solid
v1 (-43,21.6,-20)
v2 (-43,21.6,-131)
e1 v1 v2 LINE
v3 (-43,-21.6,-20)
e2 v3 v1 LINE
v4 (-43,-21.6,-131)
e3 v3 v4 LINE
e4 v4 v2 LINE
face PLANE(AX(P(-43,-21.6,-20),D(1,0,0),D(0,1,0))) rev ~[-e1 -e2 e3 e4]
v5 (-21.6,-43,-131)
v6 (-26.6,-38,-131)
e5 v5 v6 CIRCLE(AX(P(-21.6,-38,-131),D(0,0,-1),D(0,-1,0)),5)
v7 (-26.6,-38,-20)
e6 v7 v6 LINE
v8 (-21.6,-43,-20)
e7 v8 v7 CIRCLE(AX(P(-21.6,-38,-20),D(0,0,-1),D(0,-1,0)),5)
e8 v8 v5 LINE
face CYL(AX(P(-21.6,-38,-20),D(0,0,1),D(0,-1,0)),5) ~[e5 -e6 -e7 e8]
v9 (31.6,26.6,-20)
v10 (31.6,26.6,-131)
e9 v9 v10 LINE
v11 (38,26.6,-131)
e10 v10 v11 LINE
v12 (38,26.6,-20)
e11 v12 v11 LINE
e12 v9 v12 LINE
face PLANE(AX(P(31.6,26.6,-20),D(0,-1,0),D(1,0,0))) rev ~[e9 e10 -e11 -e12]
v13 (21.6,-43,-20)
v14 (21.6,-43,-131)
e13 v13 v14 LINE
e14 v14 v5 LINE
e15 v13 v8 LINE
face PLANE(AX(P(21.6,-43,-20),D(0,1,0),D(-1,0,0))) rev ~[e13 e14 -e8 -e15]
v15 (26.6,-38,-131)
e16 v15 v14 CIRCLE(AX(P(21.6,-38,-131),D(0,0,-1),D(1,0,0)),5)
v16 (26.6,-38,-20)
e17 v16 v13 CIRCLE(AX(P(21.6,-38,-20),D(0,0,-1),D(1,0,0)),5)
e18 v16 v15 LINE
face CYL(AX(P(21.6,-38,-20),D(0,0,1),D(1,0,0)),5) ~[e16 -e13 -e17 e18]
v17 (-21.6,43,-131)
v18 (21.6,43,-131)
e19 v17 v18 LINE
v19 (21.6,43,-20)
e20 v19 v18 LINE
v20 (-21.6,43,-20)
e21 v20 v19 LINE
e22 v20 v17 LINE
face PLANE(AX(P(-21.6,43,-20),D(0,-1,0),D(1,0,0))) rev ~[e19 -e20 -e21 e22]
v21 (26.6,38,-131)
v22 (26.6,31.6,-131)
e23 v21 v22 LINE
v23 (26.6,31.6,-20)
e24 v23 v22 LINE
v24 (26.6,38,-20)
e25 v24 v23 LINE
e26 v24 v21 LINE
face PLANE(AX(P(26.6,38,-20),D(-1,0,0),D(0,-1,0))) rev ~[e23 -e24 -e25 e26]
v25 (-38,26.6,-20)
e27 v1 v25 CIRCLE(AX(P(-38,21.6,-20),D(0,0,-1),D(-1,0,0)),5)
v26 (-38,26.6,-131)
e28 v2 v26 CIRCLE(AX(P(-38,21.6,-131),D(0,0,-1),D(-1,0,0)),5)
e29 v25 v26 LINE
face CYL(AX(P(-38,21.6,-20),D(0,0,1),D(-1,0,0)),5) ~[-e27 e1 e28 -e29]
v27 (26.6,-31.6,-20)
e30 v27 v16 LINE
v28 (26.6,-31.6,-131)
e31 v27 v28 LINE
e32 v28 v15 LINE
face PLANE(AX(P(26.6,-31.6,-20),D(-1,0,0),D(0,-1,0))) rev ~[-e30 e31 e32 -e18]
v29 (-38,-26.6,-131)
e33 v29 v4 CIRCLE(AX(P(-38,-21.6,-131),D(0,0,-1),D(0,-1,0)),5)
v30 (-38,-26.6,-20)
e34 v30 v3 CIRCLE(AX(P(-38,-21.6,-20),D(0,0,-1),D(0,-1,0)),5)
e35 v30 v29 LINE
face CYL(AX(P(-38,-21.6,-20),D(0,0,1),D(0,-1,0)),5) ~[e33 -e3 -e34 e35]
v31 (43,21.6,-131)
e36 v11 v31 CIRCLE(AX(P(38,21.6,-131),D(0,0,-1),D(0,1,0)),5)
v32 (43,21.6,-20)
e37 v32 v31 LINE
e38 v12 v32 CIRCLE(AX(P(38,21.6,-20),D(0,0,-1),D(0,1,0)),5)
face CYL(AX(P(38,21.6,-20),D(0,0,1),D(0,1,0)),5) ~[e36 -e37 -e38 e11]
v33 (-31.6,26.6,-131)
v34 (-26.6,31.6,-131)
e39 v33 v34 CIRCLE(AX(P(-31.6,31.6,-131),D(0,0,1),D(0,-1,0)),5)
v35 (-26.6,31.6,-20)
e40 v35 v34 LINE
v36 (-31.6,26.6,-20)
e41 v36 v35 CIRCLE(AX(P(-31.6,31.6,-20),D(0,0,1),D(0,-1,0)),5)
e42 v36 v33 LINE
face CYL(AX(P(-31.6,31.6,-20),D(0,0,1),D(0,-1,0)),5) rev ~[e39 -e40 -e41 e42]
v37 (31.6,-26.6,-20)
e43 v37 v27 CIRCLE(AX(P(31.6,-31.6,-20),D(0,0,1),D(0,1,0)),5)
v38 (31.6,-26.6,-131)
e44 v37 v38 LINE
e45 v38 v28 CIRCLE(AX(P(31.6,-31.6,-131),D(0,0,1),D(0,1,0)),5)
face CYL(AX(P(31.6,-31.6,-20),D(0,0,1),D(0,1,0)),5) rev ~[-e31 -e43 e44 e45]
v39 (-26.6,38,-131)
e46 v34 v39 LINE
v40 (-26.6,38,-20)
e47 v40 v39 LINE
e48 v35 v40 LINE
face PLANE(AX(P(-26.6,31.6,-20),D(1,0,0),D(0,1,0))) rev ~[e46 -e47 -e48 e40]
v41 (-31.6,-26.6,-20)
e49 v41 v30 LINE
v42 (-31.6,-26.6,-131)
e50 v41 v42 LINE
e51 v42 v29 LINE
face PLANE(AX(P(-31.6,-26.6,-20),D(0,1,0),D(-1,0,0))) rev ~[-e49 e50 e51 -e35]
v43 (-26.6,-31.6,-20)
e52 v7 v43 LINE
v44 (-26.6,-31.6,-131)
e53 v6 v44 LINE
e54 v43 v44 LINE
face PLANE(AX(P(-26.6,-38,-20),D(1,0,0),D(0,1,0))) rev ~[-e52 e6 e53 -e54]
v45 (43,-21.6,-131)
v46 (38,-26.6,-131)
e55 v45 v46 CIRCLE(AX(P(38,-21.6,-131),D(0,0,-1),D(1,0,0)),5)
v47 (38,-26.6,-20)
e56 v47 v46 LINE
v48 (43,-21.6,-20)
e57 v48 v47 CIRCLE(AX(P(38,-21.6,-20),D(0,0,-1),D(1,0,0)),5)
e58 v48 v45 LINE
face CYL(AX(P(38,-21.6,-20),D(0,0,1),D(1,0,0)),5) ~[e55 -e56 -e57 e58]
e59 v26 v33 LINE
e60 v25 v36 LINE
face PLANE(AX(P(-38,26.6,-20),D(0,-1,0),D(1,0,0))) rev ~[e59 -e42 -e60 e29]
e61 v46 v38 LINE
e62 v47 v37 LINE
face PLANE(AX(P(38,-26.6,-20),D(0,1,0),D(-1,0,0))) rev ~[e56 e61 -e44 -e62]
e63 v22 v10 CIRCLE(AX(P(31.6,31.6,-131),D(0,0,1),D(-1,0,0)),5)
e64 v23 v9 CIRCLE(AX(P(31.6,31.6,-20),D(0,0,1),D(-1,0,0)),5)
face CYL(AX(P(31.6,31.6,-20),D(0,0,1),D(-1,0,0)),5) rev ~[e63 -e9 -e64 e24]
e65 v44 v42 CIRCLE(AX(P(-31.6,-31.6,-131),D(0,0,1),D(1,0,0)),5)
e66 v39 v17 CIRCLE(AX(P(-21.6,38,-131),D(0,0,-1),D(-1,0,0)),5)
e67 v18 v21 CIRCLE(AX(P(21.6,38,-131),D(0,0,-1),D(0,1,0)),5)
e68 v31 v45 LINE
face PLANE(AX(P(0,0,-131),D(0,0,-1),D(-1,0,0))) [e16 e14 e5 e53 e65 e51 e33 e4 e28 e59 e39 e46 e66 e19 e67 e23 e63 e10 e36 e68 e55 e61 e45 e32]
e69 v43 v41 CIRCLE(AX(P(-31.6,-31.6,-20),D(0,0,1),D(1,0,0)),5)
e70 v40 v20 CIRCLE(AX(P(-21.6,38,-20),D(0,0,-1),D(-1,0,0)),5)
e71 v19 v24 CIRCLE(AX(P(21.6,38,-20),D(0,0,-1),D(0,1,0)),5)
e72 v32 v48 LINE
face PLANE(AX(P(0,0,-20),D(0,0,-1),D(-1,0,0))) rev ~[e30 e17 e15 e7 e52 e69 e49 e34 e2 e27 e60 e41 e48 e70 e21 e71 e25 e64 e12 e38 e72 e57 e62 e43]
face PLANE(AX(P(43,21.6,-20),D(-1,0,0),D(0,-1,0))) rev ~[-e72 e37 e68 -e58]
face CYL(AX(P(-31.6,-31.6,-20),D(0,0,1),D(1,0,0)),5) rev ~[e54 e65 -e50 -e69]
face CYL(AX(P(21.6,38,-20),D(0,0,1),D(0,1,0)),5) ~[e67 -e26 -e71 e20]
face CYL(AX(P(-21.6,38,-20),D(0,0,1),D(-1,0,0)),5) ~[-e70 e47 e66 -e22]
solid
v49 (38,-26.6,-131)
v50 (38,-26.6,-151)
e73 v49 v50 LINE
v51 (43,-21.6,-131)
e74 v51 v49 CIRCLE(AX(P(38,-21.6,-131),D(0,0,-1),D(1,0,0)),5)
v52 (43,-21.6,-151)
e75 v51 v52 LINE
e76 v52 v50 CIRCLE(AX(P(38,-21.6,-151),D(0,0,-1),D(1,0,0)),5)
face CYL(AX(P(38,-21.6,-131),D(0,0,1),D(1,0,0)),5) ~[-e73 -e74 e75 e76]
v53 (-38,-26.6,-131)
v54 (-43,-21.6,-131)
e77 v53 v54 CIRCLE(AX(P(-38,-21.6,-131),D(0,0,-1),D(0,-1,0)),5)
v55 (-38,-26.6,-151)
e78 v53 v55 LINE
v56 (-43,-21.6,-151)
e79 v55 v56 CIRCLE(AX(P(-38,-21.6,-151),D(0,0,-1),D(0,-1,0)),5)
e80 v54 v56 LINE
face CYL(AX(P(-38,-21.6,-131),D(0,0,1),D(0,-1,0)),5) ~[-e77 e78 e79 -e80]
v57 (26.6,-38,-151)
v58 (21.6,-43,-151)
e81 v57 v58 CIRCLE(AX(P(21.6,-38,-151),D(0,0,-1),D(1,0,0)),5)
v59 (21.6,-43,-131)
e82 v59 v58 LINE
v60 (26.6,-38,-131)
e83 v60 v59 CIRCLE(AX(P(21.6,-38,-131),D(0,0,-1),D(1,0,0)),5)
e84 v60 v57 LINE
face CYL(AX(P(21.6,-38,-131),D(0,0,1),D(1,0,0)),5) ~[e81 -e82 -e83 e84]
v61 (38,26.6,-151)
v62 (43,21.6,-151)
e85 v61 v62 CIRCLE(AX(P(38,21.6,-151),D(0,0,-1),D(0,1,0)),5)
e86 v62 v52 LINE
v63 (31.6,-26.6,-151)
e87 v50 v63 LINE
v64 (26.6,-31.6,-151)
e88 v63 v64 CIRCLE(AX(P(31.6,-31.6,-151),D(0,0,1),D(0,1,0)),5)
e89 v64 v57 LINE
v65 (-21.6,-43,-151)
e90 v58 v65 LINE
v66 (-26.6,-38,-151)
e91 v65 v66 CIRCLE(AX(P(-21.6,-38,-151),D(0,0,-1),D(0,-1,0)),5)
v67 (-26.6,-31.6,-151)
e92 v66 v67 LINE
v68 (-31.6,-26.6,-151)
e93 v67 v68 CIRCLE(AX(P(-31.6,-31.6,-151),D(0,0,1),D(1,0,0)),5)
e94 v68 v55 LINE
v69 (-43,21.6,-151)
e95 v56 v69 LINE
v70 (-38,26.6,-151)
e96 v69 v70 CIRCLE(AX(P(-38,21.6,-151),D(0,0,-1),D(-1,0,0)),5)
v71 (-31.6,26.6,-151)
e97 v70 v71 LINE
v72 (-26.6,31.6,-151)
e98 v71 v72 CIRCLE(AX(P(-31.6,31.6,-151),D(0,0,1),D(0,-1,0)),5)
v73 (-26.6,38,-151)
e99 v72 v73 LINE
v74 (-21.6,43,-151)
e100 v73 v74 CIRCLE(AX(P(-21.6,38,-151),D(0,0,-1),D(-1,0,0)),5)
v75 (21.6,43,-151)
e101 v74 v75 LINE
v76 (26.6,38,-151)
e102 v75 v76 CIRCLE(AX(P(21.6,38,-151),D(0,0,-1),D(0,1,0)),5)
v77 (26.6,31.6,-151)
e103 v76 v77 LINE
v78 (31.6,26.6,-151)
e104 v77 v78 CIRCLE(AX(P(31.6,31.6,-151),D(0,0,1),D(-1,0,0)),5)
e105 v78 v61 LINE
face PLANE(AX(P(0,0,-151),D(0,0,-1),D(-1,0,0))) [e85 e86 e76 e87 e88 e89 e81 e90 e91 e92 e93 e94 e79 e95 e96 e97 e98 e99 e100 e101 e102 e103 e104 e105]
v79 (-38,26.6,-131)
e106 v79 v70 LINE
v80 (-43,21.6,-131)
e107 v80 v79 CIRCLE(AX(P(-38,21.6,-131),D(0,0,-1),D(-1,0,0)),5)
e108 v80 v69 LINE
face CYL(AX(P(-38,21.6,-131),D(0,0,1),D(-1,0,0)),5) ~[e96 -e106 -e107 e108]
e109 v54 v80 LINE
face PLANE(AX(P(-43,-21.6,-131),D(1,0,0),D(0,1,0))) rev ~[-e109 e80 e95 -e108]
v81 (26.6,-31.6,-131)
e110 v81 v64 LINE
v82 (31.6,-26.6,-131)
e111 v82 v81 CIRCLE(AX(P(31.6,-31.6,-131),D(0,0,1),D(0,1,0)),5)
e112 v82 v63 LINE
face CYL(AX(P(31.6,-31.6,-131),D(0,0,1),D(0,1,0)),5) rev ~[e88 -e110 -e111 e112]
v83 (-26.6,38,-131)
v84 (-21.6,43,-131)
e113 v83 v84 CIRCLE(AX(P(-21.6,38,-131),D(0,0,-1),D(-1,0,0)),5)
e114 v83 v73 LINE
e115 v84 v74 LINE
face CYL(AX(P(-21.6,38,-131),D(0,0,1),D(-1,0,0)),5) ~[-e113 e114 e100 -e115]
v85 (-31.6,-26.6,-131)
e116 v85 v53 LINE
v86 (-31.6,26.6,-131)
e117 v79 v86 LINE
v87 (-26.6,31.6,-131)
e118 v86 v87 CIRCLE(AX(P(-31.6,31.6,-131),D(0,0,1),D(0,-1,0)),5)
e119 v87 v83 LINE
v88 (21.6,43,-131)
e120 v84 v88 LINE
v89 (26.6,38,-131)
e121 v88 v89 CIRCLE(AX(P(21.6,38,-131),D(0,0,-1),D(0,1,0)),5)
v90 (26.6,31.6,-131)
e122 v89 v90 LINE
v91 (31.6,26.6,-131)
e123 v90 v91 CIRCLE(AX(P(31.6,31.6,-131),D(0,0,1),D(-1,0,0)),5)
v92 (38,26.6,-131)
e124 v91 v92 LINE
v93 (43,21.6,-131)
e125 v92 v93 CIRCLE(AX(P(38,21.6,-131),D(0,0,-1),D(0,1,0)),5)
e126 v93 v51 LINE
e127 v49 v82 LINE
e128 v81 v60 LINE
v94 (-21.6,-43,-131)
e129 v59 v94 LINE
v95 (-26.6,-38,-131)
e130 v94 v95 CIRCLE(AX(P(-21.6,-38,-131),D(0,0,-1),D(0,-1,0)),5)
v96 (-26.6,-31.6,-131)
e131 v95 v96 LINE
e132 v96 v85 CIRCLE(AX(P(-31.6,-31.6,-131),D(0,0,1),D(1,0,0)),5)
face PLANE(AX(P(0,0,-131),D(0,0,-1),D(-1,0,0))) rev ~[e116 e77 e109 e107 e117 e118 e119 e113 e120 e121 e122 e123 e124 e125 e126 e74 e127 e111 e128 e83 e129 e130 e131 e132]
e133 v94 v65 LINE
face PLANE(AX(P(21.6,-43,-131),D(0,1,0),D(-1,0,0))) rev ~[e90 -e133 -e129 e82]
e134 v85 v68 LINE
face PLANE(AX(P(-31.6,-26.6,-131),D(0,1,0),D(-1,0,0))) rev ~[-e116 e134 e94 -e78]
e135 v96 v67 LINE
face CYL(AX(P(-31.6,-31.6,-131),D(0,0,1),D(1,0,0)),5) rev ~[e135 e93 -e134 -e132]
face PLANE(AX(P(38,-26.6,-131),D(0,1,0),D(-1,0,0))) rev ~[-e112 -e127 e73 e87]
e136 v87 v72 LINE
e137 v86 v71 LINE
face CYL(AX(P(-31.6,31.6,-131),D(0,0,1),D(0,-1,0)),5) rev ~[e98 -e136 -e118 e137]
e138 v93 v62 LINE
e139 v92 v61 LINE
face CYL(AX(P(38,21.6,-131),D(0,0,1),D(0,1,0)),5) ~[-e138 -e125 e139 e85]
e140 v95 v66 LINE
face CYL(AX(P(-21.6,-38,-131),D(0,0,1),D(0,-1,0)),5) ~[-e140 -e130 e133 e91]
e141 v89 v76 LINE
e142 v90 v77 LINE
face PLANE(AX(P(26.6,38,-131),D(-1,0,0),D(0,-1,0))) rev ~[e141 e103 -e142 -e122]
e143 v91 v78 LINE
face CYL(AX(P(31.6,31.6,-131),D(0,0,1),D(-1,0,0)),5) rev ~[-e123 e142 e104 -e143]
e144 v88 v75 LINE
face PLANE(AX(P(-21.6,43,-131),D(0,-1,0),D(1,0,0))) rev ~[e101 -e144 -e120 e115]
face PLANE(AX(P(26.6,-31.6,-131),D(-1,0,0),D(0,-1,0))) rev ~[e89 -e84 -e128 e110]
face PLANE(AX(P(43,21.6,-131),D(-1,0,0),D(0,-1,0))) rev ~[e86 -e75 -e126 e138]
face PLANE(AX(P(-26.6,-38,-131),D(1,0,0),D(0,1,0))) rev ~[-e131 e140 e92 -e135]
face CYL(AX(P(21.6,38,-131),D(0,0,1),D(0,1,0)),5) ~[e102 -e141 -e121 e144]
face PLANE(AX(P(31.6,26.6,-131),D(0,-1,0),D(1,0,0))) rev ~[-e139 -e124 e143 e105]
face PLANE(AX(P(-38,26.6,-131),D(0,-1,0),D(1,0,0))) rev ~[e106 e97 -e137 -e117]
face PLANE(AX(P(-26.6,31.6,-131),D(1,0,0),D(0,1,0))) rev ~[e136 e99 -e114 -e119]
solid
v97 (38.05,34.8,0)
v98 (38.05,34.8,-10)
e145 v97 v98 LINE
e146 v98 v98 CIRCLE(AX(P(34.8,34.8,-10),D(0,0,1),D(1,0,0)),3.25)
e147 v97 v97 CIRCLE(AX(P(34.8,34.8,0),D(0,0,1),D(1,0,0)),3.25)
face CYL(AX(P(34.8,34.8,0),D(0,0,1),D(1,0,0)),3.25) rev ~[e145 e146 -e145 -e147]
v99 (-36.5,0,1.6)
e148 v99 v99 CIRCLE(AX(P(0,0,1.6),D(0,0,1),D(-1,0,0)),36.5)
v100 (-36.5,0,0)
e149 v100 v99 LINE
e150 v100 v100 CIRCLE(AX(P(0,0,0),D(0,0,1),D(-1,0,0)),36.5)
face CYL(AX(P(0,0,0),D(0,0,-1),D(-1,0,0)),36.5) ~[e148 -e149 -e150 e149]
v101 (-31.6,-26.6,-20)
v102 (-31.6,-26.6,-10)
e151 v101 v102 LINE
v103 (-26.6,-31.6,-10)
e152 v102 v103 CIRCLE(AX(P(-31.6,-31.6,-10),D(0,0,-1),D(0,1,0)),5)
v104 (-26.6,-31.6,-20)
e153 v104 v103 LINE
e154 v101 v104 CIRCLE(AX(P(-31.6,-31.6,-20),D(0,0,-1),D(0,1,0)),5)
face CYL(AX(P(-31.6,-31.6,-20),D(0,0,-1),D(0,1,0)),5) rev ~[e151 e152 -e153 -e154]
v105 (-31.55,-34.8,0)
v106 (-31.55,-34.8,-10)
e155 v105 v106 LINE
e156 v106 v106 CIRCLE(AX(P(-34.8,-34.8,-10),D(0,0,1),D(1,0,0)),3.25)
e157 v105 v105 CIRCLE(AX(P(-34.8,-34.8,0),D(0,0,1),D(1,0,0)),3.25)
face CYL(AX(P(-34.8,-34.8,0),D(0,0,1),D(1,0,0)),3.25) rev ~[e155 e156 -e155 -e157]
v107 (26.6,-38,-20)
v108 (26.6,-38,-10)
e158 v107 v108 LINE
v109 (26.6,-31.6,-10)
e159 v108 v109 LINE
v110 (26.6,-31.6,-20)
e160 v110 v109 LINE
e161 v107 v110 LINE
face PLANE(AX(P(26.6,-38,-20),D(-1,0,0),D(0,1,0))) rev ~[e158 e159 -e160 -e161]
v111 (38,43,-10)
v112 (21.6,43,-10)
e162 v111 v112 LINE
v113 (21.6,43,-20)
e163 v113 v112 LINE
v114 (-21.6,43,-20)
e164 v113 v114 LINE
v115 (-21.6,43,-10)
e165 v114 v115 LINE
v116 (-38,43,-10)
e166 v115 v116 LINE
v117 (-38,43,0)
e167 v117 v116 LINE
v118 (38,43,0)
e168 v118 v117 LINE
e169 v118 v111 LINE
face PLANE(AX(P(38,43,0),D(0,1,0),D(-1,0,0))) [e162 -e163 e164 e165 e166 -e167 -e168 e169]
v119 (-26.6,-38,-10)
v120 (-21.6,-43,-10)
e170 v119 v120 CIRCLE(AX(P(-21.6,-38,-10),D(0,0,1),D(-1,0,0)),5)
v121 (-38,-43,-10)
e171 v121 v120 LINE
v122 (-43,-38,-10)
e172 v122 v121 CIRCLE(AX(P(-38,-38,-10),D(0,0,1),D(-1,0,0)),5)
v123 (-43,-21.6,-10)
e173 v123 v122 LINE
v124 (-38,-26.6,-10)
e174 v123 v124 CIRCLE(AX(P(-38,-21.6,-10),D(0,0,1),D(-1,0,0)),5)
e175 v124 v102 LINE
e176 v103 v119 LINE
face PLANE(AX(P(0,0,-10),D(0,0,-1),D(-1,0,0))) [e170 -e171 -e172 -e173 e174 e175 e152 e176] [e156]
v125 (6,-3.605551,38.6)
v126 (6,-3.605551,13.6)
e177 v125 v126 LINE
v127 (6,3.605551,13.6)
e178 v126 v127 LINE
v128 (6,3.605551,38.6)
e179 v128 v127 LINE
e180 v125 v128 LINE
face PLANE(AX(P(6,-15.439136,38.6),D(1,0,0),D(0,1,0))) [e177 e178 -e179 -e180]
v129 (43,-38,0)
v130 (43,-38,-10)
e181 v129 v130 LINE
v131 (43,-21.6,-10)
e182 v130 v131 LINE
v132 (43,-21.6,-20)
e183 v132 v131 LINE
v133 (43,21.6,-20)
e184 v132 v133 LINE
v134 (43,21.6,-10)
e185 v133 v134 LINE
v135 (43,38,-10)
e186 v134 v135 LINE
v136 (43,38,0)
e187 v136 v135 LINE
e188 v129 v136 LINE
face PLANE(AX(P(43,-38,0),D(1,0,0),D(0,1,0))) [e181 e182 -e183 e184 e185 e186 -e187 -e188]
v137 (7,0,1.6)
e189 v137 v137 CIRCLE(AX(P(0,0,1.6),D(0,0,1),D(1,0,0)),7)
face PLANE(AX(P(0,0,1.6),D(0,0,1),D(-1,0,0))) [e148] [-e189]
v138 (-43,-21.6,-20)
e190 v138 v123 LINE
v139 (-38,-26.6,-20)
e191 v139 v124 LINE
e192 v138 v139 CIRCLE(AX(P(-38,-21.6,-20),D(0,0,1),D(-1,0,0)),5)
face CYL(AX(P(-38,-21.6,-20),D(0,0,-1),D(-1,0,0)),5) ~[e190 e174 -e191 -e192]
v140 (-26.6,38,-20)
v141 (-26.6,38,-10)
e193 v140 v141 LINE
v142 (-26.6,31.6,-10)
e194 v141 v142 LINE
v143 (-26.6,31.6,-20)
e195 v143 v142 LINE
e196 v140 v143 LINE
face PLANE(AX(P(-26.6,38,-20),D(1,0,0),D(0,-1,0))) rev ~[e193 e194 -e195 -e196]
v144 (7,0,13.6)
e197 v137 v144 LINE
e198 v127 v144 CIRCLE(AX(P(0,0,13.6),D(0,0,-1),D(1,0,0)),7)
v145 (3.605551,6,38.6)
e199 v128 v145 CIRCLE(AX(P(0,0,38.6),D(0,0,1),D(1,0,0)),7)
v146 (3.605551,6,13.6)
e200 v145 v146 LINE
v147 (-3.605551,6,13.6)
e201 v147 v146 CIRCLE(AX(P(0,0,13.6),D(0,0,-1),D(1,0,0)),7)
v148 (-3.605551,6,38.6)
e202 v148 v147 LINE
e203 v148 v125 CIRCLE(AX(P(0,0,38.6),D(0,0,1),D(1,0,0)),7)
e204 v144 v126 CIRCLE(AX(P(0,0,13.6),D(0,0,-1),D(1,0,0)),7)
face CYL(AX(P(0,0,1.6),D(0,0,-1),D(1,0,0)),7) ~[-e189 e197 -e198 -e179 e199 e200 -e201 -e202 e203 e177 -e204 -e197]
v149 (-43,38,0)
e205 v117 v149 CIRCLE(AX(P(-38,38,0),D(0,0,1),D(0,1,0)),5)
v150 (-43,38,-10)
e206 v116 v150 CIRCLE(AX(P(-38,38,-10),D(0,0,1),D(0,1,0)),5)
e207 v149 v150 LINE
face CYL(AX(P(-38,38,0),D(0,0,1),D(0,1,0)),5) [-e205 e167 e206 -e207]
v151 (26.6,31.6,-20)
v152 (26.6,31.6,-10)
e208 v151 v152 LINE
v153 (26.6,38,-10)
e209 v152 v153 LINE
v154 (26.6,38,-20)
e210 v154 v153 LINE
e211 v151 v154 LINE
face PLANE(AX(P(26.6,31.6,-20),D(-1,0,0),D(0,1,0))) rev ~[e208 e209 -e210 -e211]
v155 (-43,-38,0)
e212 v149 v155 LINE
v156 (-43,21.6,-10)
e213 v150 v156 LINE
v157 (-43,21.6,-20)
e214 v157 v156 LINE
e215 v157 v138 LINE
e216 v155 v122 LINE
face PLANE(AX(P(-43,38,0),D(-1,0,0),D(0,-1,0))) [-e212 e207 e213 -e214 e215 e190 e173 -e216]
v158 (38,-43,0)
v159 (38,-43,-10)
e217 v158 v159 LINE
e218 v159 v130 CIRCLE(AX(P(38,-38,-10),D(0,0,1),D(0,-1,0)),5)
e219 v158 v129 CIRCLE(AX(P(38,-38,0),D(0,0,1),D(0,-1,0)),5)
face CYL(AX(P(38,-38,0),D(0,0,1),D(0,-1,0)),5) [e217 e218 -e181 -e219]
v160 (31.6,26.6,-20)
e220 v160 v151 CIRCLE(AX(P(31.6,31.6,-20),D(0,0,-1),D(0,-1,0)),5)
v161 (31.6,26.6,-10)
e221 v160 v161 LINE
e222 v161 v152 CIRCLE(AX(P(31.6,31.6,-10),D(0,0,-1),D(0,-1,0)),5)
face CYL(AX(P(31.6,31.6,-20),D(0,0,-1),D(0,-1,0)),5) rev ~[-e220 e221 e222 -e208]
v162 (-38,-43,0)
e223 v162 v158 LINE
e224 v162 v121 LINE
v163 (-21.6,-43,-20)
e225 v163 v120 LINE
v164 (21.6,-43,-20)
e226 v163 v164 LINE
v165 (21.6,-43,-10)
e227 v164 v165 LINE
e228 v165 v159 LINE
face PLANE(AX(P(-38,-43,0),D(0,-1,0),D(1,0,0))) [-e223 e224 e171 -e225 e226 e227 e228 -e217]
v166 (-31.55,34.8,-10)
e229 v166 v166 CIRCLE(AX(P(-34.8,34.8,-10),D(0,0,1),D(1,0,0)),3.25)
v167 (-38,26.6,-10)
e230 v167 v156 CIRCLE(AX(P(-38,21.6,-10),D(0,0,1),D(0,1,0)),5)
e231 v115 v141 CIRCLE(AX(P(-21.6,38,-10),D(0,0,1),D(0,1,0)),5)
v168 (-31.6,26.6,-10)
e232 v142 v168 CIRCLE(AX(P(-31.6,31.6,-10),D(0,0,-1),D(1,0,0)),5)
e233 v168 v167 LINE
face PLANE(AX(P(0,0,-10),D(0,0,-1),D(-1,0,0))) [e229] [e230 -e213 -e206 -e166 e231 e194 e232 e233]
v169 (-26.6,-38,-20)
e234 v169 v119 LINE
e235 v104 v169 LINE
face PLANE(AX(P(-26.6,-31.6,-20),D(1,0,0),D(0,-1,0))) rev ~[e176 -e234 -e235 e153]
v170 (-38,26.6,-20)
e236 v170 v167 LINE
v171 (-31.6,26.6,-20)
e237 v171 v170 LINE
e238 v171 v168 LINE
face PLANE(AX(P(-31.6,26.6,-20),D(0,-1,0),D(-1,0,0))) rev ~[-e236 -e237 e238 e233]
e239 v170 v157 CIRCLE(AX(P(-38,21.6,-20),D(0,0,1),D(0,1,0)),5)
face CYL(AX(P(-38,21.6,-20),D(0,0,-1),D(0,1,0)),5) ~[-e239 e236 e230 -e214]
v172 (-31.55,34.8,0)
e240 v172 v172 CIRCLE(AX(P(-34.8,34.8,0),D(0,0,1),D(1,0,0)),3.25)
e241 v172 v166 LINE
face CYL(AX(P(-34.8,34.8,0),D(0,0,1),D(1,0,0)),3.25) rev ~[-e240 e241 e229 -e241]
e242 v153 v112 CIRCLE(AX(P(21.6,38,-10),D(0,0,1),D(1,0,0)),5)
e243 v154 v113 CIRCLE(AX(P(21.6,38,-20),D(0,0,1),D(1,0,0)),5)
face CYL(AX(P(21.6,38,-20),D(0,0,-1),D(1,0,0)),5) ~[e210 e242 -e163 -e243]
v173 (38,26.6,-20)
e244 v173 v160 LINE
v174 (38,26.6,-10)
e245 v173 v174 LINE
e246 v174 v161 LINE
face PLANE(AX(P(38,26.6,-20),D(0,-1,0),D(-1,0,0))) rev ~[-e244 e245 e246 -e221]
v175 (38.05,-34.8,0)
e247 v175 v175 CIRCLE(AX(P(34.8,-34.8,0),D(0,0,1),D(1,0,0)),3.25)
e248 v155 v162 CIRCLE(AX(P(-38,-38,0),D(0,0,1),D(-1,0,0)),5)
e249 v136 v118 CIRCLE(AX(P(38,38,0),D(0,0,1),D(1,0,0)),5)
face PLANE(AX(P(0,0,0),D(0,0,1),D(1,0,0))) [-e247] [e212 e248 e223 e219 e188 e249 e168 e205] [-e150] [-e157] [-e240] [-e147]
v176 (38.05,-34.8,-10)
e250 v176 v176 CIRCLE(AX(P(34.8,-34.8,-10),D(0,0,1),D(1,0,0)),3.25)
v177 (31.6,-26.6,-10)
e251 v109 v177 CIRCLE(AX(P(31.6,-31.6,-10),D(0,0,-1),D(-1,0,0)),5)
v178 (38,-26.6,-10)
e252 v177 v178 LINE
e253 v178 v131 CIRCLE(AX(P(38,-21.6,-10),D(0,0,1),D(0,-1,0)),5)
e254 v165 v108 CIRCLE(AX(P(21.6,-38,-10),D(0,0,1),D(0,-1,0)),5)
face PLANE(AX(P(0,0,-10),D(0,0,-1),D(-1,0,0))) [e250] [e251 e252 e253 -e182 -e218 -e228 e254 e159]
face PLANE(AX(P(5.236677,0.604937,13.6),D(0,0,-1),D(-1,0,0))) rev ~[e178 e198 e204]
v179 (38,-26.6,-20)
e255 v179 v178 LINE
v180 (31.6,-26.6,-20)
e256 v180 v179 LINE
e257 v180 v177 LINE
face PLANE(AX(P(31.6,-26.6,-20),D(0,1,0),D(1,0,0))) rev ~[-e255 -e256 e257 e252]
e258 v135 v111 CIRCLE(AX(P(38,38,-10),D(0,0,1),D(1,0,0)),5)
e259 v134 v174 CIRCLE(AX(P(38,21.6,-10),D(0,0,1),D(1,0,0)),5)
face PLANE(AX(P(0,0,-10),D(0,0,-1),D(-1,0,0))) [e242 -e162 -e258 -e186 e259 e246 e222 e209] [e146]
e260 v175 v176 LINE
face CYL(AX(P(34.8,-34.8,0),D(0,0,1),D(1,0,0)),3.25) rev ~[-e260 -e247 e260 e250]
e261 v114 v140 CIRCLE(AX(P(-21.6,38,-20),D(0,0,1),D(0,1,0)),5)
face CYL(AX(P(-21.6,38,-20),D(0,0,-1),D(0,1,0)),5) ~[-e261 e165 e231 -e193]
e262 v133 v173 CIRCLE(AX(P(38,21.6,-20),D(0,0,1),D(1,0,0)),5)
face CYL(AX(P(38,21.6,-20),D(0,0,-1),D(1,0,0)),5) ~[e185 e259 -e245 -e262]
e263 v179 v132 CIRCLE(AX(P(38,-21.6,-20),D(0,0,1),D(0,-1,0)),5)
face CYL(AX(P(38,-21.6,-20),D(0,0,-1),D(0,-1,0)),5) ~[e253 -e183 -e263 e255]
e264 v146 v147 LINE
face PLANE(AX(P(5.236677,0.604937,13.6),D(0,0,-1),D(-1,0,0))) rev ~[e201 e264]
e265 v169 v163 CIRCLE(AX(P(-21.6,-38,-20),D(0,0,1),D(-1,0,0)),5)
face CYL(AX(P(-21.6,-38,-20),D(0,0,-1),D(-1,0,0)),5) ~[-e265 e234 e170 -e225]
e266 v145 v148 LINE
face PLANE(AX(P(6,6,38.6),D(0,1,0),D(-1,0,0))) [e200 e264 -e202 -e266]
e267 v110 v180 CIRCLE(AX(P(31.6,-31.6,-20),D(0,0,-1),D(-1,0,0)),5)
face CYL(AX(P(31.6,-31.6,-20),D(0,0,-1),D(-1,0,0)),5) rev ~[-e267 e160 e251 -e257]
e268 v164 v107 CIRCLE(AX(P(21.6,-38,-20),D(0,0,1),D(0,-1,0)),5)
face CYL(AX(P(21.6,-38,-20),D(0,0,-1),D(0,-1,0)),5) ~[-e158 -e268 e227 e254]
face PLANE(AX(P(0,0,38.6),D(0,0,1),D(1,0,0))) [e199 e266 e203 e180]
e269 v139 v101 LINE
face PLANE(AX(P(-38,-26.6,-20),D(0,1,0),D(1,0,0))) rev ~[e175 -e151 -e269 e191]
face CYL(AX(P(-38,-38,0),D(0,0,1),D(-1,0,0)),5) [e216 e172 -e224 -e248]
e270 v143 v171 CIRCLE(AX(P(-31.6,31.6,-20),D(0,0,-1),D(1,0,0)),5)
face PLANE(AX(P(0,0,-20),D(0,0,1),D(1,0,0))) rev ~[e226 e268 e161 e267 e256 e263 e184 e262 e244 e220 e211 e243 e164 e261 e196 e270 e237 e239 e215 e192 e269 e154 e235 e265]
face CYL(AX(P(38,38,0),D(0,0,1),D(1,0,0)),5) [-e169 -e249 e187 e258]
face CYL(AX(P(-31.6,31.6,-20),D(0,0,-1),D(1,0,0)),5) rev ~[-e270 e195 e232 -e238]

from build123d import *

# Parameters (mm, degrees)
SKETCH2_R           = 3.25
BOSS_EXTRUDE1_DEPTH = 20
SKETCH3_R           = 36.5
BOSS_EXTRUDE2_DEPTH = 1.6
SKETCH4_R           = 7
BOSS_EXTRUDE3_DEPTH = 37
CUT_EXTRUDE3_DEPTH  = 25
SKETCH6_OUTSIDE_W   = 115
SKETCH6_OUTSIDE_H   = 115
CUT_EXTRUDE4_DEPTH  = 10
BOSS_EXTRUDE7_DEPTH = 111
BOSS_EXTRUDE8_DEPTH = 20


with BuildPart() as part:
    # Sketch2 → Boss-Extrude1 (new body)
    with BuildSketch(Plane.XY):
        with BuildLine():
            Line((-38, -43), (38, -43))
            ThreePointArc((38, -43), (41.535533906, -41.535533906), (43, -38))
            Line((43, -38), (43, 38))
            ThreePointArc((43, 38), (41.535533906, 41.535533906), (38, 43))
            Line((38, 43), (-38, 43))
            ThreePointArc((-38, 43), (-41.535533906, 41.535533906), (-43, 38))
            Line((-43, 38), (-43, -38))
            ThreePointArc((-43, -38), (-41.535533906, -41.535533906), (-38, -43))
        make_face()
        with Locations((-34.8, 34.8)):
            Circle(SKETCH2_R, mode=Mode.SUBTRACT)
        with Locations((34.8, 34.8)):
            Circle(SKETCH2_R, mode=Mode.SUBTRACT)
        with Locations((34.8, -34.8)):
            Circle(SKETCH2_R, mode=Mode.SUBTRACT)
        with Locations((-34.8, -34.8)):
            Circle(SKETCH2_R, mode=Mode.SUBTRACT)
    extrude(amount=-BOSS_EXTRUDE1_DEPTH)

    # Sketch3 → Boss-Extrude2 (add)
    with BuildSketch(Plane.XY):
        with Locations(Location((0, 0, 0), (0, 0, 180))):
            Circle(SKETCH3_R)
    extrude(amount=BOSS_EXTRUDE2_DEPTH)

    # Sketch4 → Boss-Extrude3 (add)
    with BuildSketch(Plane.XY.offset(1.6)):
        Circle(SKETCH4_R)
    extrude(amount=BOSS_EXTRUDE3_DEPTH)

    # Sketch5 → Cut-Extrude3 (cut)
    with BuildSketch(Plane.XY.offset(38.6)):
        Polygon((-8.822363666, 9.823024255), (12.469733355, 9.823024255), (12.469733355, -15.439136416), (6, -15.439136416), (6, 6), (-8.822363666, 6), align=None)
    extrude(amount=-CUT_EXTRUDE3_DEPTH, mode=Mode.SUBTRACT)

    # Sketch6 outside → Cut-Extrude4 (cut)
    with BuildSketch(Plane(origin=(0, 0, -20), x_dir=(-1, 0, 0), z_dir=(0, 0, -1))):
        Rectangle(SKETCH6_OUTSIDE_W, SKETCH6_OUTSIDE_H)
        with BuildLine():
            Line((-38, 26.6), (-31.6, 26.6))
            ThreePointArc((-31.6, 26.6), (-28.064466094, 28.064466094), (-26.6, 31.6))
            Line((-26.6, 31.6), (-26.6, 38))
            ThreePointArc((-26.6, 38), (-25.135533906, 41.535533906), (-21.6, 43))
            Line((-21.6, 43), (21.6, 43))
            ThreePointArc((21.6, 43), (25.135533906, 41.535533906), (26.6, 38))
            Line((26.6, 38), (26.6, 31.6))
            ThreePointArc((26.6, 31.6), (28.064466094, 28.064466094), (31.6, 26.6))
            Line((31.6, 26.6), (38, 26.6))
            ThreePointArc((38, 26.6), (41.535533906, 25.135533906), (43, 21.6))
            Line((43, 21.6), (43, -21.6))
            ThreePointArc((43, -21.6), (41.535533906, -25.135533906), (38, -26.6))
            Line((38, -26.6), (31.6, -26.6))
            ThreePointArc((31.6, -26.6), (28.064466094, -28.064466094), (26.6, -31.6))
            Line((26.6, -31.6), (26.6, -38))
            ThreePointArc((26.6, -38), (25.135533906, -41.535533906), (21.6, -43))
            Line((21.6, -43), (-21.6, -43))
            ThreePointArc((-21.6, -43), (-25.135533906, -41.535533906), (-26.6, -38))
            Line((-26.6, -38), (-26.6, -31.6))
            ThreePointArc((-26.6, -31.6), (-28.064466094, -28.064466094), (-31.6, -26.6))
            Line((-31.6, -26.6), (-38, -26.6))
            ThreePointArc((-38, -26.6), (-41.535533906, -25.135533906), (-43, -21.6))
            Line((-43, -21.6), (-43, 21.6))
            ThreePointArc((-43, 21.6), (-41.535533906, 25.135533906), (-38, 26.6))
        make_face(mode=Mode.SUBTRACT)
    extrude(amount=-CUT_EXTRUDE4_DEPTH, mode=Mode.SUBTRACT)


with BuildPart() as body_2:
    # Sketch10 → Boss-Extrude7 (new body)
    with BuildSketch(Plane(origin=(0, 0, -20), x_dir=(-1, 0, 0), z_dir=(0, 0, -1))):
        with BuildLine():
            Line((26.6, 31.6), (26.6, 38))
            ThreePointArc((26.6, 38), (25.135533906, 41.535533906), (21.6, 43))
            Line((21.6, 43), (-21.6, 43))
            ThreePointArc((-21.6, 43), (-25.135533906, 41.535533906), (-26.6, 38))
            Line((-26.6, 38), (-26.6, 31.6))
            ThreePointArc((-26.6, 31.6), (-28.064466094, 28.064466094), (-31.6, 26.6))
            Line((-31.6, 26.6), (-38, 26.6))
            ThreePointArc((-38, 26.6), (-41.535533906, 25.135533906), (-43, 21.6))
            Line((-43, 21.6), (-43, -21.6))
            ThreePointArc((-43, -21.6), (-41.535533906, -25.135533906), (-38, -26.6))
            Line((-38, -26.6), (-31.6, -26.6))
            ThreePointArc((-31.6, -26.6), (-28.064466094, -28.064466094), (-26.6, -31.6))
            Line((-26.6, -31.6), (-26.6, -38))
            ThreePointArc((-26.6, -38), (-25.135533906, -41.535533906), (-21.6, -43))
            Line((-21.6, -43), (21.6, -43))
            ThreePointArc((21.6, -43), (25.135533906, -41.535533906), (26.6, -38))
            Line((26.6, -38), (26.6, -31.6))
            ThreePointArc((26.6, -31.6), (28.064466094, -28.064466094), (31.6, -26.6))
            Line((31.6, -26.6), (38, -26.6))
            ThreePointArc((38, -26.6), (41.535533906, -25.135533906), (43, -21.6))
            Line((43, -21.6), (43, 21.6))
            ThreePointArc((43, 21.6), (41.535533906, 25.135533906), (38, 26.6))
            Line((38, 26.6), (31.6, 26.6))
            ThreePointArc((31.6, 26.6), (28.064466094, 28.064466094), (26.6, 31.6))
        make_face()
    extrude(amount=BOSS_EXTRUDE7_DEPTH)


with BuildPart() as body_3:
    # Sketch11 → Boss-Extrude8 (new body)
    with BuildSketch(Plane(origin=(0, 0, -131), x_dir=(-1, 0, 0), z_dir=(0, 0, -1))):
        with BuildLine():
            Line((26.6, 31.6), (26.6, 38))
            ThreePointArc((26.6, 38), (25.135533906, 41.535533906), (21.6, 43))
            Line((21.6, 43), (-21.6, 43))
            ThreePointArc((-21.6, 43), (-25.135533906, 41.535533906), (-26.6, 38))
            Line((-26.6, 38), (-26.6, 31.6))
            ThreePointArc((-26.6, 31.6), (-28.064466094, 28.064466094), (-31.6, 26.6))
            Line((-31.6, 26.6), (-38, 26.6))
            ThreePointArc((-38, 26.6), (-41.535533906, 25.135533906), (-43, 21.6))
            Line((-43, 21.6), (-43, -21.6))
            ThreePointArc((-43, -21.6), (-41.535533906, -25.135533906), (-38, -26.6))
            Line((-38, -26.6), (-31.6, -26.6))
            ThreePointArc((-31.6, -26.6), (-28.064466094, -28.064466094), (-26.6, -31.6))
            Line((-26.6, -31.6), (-26.6, -38))
            ThreePointArc((-26.6, -38), (-25.135533906, -41.535533906), (-21.6, -43))
            Line((-21.6, -43), (21.6, -43))
            ThreePointArc((21.6, -43), (25.135533906, -41.535533906), (26.6, -38))
            Line((26.6, -38), (26.6, -31.6))
            ThreePointArc((26.6, -31.6), (28.064466094, -28.064466094), (31.6, -26.6))
            Line((31.6, -26.6), (38, -26.6))
            ThreePointArc((38, -26.6), (41.535533906, -25.135533906), (43, -21.6))
            Line((43, -21.6), (43, 21.6))
            ThreePointArc((43, 21.6), (41.535533906, 25.135533906), (38, 26.6))
            Line((38, 26.6), (31.6, 26.6))
            ThreePointArc((31.6, 26.6), (28.064466094, 28.064466094), (26.6, 31.6))
        make_face()
    extrude(amount=BOSS_EXTRUDE8_DEPTH)


solid = Compound([part.part, body_2.part, body_3.part])
